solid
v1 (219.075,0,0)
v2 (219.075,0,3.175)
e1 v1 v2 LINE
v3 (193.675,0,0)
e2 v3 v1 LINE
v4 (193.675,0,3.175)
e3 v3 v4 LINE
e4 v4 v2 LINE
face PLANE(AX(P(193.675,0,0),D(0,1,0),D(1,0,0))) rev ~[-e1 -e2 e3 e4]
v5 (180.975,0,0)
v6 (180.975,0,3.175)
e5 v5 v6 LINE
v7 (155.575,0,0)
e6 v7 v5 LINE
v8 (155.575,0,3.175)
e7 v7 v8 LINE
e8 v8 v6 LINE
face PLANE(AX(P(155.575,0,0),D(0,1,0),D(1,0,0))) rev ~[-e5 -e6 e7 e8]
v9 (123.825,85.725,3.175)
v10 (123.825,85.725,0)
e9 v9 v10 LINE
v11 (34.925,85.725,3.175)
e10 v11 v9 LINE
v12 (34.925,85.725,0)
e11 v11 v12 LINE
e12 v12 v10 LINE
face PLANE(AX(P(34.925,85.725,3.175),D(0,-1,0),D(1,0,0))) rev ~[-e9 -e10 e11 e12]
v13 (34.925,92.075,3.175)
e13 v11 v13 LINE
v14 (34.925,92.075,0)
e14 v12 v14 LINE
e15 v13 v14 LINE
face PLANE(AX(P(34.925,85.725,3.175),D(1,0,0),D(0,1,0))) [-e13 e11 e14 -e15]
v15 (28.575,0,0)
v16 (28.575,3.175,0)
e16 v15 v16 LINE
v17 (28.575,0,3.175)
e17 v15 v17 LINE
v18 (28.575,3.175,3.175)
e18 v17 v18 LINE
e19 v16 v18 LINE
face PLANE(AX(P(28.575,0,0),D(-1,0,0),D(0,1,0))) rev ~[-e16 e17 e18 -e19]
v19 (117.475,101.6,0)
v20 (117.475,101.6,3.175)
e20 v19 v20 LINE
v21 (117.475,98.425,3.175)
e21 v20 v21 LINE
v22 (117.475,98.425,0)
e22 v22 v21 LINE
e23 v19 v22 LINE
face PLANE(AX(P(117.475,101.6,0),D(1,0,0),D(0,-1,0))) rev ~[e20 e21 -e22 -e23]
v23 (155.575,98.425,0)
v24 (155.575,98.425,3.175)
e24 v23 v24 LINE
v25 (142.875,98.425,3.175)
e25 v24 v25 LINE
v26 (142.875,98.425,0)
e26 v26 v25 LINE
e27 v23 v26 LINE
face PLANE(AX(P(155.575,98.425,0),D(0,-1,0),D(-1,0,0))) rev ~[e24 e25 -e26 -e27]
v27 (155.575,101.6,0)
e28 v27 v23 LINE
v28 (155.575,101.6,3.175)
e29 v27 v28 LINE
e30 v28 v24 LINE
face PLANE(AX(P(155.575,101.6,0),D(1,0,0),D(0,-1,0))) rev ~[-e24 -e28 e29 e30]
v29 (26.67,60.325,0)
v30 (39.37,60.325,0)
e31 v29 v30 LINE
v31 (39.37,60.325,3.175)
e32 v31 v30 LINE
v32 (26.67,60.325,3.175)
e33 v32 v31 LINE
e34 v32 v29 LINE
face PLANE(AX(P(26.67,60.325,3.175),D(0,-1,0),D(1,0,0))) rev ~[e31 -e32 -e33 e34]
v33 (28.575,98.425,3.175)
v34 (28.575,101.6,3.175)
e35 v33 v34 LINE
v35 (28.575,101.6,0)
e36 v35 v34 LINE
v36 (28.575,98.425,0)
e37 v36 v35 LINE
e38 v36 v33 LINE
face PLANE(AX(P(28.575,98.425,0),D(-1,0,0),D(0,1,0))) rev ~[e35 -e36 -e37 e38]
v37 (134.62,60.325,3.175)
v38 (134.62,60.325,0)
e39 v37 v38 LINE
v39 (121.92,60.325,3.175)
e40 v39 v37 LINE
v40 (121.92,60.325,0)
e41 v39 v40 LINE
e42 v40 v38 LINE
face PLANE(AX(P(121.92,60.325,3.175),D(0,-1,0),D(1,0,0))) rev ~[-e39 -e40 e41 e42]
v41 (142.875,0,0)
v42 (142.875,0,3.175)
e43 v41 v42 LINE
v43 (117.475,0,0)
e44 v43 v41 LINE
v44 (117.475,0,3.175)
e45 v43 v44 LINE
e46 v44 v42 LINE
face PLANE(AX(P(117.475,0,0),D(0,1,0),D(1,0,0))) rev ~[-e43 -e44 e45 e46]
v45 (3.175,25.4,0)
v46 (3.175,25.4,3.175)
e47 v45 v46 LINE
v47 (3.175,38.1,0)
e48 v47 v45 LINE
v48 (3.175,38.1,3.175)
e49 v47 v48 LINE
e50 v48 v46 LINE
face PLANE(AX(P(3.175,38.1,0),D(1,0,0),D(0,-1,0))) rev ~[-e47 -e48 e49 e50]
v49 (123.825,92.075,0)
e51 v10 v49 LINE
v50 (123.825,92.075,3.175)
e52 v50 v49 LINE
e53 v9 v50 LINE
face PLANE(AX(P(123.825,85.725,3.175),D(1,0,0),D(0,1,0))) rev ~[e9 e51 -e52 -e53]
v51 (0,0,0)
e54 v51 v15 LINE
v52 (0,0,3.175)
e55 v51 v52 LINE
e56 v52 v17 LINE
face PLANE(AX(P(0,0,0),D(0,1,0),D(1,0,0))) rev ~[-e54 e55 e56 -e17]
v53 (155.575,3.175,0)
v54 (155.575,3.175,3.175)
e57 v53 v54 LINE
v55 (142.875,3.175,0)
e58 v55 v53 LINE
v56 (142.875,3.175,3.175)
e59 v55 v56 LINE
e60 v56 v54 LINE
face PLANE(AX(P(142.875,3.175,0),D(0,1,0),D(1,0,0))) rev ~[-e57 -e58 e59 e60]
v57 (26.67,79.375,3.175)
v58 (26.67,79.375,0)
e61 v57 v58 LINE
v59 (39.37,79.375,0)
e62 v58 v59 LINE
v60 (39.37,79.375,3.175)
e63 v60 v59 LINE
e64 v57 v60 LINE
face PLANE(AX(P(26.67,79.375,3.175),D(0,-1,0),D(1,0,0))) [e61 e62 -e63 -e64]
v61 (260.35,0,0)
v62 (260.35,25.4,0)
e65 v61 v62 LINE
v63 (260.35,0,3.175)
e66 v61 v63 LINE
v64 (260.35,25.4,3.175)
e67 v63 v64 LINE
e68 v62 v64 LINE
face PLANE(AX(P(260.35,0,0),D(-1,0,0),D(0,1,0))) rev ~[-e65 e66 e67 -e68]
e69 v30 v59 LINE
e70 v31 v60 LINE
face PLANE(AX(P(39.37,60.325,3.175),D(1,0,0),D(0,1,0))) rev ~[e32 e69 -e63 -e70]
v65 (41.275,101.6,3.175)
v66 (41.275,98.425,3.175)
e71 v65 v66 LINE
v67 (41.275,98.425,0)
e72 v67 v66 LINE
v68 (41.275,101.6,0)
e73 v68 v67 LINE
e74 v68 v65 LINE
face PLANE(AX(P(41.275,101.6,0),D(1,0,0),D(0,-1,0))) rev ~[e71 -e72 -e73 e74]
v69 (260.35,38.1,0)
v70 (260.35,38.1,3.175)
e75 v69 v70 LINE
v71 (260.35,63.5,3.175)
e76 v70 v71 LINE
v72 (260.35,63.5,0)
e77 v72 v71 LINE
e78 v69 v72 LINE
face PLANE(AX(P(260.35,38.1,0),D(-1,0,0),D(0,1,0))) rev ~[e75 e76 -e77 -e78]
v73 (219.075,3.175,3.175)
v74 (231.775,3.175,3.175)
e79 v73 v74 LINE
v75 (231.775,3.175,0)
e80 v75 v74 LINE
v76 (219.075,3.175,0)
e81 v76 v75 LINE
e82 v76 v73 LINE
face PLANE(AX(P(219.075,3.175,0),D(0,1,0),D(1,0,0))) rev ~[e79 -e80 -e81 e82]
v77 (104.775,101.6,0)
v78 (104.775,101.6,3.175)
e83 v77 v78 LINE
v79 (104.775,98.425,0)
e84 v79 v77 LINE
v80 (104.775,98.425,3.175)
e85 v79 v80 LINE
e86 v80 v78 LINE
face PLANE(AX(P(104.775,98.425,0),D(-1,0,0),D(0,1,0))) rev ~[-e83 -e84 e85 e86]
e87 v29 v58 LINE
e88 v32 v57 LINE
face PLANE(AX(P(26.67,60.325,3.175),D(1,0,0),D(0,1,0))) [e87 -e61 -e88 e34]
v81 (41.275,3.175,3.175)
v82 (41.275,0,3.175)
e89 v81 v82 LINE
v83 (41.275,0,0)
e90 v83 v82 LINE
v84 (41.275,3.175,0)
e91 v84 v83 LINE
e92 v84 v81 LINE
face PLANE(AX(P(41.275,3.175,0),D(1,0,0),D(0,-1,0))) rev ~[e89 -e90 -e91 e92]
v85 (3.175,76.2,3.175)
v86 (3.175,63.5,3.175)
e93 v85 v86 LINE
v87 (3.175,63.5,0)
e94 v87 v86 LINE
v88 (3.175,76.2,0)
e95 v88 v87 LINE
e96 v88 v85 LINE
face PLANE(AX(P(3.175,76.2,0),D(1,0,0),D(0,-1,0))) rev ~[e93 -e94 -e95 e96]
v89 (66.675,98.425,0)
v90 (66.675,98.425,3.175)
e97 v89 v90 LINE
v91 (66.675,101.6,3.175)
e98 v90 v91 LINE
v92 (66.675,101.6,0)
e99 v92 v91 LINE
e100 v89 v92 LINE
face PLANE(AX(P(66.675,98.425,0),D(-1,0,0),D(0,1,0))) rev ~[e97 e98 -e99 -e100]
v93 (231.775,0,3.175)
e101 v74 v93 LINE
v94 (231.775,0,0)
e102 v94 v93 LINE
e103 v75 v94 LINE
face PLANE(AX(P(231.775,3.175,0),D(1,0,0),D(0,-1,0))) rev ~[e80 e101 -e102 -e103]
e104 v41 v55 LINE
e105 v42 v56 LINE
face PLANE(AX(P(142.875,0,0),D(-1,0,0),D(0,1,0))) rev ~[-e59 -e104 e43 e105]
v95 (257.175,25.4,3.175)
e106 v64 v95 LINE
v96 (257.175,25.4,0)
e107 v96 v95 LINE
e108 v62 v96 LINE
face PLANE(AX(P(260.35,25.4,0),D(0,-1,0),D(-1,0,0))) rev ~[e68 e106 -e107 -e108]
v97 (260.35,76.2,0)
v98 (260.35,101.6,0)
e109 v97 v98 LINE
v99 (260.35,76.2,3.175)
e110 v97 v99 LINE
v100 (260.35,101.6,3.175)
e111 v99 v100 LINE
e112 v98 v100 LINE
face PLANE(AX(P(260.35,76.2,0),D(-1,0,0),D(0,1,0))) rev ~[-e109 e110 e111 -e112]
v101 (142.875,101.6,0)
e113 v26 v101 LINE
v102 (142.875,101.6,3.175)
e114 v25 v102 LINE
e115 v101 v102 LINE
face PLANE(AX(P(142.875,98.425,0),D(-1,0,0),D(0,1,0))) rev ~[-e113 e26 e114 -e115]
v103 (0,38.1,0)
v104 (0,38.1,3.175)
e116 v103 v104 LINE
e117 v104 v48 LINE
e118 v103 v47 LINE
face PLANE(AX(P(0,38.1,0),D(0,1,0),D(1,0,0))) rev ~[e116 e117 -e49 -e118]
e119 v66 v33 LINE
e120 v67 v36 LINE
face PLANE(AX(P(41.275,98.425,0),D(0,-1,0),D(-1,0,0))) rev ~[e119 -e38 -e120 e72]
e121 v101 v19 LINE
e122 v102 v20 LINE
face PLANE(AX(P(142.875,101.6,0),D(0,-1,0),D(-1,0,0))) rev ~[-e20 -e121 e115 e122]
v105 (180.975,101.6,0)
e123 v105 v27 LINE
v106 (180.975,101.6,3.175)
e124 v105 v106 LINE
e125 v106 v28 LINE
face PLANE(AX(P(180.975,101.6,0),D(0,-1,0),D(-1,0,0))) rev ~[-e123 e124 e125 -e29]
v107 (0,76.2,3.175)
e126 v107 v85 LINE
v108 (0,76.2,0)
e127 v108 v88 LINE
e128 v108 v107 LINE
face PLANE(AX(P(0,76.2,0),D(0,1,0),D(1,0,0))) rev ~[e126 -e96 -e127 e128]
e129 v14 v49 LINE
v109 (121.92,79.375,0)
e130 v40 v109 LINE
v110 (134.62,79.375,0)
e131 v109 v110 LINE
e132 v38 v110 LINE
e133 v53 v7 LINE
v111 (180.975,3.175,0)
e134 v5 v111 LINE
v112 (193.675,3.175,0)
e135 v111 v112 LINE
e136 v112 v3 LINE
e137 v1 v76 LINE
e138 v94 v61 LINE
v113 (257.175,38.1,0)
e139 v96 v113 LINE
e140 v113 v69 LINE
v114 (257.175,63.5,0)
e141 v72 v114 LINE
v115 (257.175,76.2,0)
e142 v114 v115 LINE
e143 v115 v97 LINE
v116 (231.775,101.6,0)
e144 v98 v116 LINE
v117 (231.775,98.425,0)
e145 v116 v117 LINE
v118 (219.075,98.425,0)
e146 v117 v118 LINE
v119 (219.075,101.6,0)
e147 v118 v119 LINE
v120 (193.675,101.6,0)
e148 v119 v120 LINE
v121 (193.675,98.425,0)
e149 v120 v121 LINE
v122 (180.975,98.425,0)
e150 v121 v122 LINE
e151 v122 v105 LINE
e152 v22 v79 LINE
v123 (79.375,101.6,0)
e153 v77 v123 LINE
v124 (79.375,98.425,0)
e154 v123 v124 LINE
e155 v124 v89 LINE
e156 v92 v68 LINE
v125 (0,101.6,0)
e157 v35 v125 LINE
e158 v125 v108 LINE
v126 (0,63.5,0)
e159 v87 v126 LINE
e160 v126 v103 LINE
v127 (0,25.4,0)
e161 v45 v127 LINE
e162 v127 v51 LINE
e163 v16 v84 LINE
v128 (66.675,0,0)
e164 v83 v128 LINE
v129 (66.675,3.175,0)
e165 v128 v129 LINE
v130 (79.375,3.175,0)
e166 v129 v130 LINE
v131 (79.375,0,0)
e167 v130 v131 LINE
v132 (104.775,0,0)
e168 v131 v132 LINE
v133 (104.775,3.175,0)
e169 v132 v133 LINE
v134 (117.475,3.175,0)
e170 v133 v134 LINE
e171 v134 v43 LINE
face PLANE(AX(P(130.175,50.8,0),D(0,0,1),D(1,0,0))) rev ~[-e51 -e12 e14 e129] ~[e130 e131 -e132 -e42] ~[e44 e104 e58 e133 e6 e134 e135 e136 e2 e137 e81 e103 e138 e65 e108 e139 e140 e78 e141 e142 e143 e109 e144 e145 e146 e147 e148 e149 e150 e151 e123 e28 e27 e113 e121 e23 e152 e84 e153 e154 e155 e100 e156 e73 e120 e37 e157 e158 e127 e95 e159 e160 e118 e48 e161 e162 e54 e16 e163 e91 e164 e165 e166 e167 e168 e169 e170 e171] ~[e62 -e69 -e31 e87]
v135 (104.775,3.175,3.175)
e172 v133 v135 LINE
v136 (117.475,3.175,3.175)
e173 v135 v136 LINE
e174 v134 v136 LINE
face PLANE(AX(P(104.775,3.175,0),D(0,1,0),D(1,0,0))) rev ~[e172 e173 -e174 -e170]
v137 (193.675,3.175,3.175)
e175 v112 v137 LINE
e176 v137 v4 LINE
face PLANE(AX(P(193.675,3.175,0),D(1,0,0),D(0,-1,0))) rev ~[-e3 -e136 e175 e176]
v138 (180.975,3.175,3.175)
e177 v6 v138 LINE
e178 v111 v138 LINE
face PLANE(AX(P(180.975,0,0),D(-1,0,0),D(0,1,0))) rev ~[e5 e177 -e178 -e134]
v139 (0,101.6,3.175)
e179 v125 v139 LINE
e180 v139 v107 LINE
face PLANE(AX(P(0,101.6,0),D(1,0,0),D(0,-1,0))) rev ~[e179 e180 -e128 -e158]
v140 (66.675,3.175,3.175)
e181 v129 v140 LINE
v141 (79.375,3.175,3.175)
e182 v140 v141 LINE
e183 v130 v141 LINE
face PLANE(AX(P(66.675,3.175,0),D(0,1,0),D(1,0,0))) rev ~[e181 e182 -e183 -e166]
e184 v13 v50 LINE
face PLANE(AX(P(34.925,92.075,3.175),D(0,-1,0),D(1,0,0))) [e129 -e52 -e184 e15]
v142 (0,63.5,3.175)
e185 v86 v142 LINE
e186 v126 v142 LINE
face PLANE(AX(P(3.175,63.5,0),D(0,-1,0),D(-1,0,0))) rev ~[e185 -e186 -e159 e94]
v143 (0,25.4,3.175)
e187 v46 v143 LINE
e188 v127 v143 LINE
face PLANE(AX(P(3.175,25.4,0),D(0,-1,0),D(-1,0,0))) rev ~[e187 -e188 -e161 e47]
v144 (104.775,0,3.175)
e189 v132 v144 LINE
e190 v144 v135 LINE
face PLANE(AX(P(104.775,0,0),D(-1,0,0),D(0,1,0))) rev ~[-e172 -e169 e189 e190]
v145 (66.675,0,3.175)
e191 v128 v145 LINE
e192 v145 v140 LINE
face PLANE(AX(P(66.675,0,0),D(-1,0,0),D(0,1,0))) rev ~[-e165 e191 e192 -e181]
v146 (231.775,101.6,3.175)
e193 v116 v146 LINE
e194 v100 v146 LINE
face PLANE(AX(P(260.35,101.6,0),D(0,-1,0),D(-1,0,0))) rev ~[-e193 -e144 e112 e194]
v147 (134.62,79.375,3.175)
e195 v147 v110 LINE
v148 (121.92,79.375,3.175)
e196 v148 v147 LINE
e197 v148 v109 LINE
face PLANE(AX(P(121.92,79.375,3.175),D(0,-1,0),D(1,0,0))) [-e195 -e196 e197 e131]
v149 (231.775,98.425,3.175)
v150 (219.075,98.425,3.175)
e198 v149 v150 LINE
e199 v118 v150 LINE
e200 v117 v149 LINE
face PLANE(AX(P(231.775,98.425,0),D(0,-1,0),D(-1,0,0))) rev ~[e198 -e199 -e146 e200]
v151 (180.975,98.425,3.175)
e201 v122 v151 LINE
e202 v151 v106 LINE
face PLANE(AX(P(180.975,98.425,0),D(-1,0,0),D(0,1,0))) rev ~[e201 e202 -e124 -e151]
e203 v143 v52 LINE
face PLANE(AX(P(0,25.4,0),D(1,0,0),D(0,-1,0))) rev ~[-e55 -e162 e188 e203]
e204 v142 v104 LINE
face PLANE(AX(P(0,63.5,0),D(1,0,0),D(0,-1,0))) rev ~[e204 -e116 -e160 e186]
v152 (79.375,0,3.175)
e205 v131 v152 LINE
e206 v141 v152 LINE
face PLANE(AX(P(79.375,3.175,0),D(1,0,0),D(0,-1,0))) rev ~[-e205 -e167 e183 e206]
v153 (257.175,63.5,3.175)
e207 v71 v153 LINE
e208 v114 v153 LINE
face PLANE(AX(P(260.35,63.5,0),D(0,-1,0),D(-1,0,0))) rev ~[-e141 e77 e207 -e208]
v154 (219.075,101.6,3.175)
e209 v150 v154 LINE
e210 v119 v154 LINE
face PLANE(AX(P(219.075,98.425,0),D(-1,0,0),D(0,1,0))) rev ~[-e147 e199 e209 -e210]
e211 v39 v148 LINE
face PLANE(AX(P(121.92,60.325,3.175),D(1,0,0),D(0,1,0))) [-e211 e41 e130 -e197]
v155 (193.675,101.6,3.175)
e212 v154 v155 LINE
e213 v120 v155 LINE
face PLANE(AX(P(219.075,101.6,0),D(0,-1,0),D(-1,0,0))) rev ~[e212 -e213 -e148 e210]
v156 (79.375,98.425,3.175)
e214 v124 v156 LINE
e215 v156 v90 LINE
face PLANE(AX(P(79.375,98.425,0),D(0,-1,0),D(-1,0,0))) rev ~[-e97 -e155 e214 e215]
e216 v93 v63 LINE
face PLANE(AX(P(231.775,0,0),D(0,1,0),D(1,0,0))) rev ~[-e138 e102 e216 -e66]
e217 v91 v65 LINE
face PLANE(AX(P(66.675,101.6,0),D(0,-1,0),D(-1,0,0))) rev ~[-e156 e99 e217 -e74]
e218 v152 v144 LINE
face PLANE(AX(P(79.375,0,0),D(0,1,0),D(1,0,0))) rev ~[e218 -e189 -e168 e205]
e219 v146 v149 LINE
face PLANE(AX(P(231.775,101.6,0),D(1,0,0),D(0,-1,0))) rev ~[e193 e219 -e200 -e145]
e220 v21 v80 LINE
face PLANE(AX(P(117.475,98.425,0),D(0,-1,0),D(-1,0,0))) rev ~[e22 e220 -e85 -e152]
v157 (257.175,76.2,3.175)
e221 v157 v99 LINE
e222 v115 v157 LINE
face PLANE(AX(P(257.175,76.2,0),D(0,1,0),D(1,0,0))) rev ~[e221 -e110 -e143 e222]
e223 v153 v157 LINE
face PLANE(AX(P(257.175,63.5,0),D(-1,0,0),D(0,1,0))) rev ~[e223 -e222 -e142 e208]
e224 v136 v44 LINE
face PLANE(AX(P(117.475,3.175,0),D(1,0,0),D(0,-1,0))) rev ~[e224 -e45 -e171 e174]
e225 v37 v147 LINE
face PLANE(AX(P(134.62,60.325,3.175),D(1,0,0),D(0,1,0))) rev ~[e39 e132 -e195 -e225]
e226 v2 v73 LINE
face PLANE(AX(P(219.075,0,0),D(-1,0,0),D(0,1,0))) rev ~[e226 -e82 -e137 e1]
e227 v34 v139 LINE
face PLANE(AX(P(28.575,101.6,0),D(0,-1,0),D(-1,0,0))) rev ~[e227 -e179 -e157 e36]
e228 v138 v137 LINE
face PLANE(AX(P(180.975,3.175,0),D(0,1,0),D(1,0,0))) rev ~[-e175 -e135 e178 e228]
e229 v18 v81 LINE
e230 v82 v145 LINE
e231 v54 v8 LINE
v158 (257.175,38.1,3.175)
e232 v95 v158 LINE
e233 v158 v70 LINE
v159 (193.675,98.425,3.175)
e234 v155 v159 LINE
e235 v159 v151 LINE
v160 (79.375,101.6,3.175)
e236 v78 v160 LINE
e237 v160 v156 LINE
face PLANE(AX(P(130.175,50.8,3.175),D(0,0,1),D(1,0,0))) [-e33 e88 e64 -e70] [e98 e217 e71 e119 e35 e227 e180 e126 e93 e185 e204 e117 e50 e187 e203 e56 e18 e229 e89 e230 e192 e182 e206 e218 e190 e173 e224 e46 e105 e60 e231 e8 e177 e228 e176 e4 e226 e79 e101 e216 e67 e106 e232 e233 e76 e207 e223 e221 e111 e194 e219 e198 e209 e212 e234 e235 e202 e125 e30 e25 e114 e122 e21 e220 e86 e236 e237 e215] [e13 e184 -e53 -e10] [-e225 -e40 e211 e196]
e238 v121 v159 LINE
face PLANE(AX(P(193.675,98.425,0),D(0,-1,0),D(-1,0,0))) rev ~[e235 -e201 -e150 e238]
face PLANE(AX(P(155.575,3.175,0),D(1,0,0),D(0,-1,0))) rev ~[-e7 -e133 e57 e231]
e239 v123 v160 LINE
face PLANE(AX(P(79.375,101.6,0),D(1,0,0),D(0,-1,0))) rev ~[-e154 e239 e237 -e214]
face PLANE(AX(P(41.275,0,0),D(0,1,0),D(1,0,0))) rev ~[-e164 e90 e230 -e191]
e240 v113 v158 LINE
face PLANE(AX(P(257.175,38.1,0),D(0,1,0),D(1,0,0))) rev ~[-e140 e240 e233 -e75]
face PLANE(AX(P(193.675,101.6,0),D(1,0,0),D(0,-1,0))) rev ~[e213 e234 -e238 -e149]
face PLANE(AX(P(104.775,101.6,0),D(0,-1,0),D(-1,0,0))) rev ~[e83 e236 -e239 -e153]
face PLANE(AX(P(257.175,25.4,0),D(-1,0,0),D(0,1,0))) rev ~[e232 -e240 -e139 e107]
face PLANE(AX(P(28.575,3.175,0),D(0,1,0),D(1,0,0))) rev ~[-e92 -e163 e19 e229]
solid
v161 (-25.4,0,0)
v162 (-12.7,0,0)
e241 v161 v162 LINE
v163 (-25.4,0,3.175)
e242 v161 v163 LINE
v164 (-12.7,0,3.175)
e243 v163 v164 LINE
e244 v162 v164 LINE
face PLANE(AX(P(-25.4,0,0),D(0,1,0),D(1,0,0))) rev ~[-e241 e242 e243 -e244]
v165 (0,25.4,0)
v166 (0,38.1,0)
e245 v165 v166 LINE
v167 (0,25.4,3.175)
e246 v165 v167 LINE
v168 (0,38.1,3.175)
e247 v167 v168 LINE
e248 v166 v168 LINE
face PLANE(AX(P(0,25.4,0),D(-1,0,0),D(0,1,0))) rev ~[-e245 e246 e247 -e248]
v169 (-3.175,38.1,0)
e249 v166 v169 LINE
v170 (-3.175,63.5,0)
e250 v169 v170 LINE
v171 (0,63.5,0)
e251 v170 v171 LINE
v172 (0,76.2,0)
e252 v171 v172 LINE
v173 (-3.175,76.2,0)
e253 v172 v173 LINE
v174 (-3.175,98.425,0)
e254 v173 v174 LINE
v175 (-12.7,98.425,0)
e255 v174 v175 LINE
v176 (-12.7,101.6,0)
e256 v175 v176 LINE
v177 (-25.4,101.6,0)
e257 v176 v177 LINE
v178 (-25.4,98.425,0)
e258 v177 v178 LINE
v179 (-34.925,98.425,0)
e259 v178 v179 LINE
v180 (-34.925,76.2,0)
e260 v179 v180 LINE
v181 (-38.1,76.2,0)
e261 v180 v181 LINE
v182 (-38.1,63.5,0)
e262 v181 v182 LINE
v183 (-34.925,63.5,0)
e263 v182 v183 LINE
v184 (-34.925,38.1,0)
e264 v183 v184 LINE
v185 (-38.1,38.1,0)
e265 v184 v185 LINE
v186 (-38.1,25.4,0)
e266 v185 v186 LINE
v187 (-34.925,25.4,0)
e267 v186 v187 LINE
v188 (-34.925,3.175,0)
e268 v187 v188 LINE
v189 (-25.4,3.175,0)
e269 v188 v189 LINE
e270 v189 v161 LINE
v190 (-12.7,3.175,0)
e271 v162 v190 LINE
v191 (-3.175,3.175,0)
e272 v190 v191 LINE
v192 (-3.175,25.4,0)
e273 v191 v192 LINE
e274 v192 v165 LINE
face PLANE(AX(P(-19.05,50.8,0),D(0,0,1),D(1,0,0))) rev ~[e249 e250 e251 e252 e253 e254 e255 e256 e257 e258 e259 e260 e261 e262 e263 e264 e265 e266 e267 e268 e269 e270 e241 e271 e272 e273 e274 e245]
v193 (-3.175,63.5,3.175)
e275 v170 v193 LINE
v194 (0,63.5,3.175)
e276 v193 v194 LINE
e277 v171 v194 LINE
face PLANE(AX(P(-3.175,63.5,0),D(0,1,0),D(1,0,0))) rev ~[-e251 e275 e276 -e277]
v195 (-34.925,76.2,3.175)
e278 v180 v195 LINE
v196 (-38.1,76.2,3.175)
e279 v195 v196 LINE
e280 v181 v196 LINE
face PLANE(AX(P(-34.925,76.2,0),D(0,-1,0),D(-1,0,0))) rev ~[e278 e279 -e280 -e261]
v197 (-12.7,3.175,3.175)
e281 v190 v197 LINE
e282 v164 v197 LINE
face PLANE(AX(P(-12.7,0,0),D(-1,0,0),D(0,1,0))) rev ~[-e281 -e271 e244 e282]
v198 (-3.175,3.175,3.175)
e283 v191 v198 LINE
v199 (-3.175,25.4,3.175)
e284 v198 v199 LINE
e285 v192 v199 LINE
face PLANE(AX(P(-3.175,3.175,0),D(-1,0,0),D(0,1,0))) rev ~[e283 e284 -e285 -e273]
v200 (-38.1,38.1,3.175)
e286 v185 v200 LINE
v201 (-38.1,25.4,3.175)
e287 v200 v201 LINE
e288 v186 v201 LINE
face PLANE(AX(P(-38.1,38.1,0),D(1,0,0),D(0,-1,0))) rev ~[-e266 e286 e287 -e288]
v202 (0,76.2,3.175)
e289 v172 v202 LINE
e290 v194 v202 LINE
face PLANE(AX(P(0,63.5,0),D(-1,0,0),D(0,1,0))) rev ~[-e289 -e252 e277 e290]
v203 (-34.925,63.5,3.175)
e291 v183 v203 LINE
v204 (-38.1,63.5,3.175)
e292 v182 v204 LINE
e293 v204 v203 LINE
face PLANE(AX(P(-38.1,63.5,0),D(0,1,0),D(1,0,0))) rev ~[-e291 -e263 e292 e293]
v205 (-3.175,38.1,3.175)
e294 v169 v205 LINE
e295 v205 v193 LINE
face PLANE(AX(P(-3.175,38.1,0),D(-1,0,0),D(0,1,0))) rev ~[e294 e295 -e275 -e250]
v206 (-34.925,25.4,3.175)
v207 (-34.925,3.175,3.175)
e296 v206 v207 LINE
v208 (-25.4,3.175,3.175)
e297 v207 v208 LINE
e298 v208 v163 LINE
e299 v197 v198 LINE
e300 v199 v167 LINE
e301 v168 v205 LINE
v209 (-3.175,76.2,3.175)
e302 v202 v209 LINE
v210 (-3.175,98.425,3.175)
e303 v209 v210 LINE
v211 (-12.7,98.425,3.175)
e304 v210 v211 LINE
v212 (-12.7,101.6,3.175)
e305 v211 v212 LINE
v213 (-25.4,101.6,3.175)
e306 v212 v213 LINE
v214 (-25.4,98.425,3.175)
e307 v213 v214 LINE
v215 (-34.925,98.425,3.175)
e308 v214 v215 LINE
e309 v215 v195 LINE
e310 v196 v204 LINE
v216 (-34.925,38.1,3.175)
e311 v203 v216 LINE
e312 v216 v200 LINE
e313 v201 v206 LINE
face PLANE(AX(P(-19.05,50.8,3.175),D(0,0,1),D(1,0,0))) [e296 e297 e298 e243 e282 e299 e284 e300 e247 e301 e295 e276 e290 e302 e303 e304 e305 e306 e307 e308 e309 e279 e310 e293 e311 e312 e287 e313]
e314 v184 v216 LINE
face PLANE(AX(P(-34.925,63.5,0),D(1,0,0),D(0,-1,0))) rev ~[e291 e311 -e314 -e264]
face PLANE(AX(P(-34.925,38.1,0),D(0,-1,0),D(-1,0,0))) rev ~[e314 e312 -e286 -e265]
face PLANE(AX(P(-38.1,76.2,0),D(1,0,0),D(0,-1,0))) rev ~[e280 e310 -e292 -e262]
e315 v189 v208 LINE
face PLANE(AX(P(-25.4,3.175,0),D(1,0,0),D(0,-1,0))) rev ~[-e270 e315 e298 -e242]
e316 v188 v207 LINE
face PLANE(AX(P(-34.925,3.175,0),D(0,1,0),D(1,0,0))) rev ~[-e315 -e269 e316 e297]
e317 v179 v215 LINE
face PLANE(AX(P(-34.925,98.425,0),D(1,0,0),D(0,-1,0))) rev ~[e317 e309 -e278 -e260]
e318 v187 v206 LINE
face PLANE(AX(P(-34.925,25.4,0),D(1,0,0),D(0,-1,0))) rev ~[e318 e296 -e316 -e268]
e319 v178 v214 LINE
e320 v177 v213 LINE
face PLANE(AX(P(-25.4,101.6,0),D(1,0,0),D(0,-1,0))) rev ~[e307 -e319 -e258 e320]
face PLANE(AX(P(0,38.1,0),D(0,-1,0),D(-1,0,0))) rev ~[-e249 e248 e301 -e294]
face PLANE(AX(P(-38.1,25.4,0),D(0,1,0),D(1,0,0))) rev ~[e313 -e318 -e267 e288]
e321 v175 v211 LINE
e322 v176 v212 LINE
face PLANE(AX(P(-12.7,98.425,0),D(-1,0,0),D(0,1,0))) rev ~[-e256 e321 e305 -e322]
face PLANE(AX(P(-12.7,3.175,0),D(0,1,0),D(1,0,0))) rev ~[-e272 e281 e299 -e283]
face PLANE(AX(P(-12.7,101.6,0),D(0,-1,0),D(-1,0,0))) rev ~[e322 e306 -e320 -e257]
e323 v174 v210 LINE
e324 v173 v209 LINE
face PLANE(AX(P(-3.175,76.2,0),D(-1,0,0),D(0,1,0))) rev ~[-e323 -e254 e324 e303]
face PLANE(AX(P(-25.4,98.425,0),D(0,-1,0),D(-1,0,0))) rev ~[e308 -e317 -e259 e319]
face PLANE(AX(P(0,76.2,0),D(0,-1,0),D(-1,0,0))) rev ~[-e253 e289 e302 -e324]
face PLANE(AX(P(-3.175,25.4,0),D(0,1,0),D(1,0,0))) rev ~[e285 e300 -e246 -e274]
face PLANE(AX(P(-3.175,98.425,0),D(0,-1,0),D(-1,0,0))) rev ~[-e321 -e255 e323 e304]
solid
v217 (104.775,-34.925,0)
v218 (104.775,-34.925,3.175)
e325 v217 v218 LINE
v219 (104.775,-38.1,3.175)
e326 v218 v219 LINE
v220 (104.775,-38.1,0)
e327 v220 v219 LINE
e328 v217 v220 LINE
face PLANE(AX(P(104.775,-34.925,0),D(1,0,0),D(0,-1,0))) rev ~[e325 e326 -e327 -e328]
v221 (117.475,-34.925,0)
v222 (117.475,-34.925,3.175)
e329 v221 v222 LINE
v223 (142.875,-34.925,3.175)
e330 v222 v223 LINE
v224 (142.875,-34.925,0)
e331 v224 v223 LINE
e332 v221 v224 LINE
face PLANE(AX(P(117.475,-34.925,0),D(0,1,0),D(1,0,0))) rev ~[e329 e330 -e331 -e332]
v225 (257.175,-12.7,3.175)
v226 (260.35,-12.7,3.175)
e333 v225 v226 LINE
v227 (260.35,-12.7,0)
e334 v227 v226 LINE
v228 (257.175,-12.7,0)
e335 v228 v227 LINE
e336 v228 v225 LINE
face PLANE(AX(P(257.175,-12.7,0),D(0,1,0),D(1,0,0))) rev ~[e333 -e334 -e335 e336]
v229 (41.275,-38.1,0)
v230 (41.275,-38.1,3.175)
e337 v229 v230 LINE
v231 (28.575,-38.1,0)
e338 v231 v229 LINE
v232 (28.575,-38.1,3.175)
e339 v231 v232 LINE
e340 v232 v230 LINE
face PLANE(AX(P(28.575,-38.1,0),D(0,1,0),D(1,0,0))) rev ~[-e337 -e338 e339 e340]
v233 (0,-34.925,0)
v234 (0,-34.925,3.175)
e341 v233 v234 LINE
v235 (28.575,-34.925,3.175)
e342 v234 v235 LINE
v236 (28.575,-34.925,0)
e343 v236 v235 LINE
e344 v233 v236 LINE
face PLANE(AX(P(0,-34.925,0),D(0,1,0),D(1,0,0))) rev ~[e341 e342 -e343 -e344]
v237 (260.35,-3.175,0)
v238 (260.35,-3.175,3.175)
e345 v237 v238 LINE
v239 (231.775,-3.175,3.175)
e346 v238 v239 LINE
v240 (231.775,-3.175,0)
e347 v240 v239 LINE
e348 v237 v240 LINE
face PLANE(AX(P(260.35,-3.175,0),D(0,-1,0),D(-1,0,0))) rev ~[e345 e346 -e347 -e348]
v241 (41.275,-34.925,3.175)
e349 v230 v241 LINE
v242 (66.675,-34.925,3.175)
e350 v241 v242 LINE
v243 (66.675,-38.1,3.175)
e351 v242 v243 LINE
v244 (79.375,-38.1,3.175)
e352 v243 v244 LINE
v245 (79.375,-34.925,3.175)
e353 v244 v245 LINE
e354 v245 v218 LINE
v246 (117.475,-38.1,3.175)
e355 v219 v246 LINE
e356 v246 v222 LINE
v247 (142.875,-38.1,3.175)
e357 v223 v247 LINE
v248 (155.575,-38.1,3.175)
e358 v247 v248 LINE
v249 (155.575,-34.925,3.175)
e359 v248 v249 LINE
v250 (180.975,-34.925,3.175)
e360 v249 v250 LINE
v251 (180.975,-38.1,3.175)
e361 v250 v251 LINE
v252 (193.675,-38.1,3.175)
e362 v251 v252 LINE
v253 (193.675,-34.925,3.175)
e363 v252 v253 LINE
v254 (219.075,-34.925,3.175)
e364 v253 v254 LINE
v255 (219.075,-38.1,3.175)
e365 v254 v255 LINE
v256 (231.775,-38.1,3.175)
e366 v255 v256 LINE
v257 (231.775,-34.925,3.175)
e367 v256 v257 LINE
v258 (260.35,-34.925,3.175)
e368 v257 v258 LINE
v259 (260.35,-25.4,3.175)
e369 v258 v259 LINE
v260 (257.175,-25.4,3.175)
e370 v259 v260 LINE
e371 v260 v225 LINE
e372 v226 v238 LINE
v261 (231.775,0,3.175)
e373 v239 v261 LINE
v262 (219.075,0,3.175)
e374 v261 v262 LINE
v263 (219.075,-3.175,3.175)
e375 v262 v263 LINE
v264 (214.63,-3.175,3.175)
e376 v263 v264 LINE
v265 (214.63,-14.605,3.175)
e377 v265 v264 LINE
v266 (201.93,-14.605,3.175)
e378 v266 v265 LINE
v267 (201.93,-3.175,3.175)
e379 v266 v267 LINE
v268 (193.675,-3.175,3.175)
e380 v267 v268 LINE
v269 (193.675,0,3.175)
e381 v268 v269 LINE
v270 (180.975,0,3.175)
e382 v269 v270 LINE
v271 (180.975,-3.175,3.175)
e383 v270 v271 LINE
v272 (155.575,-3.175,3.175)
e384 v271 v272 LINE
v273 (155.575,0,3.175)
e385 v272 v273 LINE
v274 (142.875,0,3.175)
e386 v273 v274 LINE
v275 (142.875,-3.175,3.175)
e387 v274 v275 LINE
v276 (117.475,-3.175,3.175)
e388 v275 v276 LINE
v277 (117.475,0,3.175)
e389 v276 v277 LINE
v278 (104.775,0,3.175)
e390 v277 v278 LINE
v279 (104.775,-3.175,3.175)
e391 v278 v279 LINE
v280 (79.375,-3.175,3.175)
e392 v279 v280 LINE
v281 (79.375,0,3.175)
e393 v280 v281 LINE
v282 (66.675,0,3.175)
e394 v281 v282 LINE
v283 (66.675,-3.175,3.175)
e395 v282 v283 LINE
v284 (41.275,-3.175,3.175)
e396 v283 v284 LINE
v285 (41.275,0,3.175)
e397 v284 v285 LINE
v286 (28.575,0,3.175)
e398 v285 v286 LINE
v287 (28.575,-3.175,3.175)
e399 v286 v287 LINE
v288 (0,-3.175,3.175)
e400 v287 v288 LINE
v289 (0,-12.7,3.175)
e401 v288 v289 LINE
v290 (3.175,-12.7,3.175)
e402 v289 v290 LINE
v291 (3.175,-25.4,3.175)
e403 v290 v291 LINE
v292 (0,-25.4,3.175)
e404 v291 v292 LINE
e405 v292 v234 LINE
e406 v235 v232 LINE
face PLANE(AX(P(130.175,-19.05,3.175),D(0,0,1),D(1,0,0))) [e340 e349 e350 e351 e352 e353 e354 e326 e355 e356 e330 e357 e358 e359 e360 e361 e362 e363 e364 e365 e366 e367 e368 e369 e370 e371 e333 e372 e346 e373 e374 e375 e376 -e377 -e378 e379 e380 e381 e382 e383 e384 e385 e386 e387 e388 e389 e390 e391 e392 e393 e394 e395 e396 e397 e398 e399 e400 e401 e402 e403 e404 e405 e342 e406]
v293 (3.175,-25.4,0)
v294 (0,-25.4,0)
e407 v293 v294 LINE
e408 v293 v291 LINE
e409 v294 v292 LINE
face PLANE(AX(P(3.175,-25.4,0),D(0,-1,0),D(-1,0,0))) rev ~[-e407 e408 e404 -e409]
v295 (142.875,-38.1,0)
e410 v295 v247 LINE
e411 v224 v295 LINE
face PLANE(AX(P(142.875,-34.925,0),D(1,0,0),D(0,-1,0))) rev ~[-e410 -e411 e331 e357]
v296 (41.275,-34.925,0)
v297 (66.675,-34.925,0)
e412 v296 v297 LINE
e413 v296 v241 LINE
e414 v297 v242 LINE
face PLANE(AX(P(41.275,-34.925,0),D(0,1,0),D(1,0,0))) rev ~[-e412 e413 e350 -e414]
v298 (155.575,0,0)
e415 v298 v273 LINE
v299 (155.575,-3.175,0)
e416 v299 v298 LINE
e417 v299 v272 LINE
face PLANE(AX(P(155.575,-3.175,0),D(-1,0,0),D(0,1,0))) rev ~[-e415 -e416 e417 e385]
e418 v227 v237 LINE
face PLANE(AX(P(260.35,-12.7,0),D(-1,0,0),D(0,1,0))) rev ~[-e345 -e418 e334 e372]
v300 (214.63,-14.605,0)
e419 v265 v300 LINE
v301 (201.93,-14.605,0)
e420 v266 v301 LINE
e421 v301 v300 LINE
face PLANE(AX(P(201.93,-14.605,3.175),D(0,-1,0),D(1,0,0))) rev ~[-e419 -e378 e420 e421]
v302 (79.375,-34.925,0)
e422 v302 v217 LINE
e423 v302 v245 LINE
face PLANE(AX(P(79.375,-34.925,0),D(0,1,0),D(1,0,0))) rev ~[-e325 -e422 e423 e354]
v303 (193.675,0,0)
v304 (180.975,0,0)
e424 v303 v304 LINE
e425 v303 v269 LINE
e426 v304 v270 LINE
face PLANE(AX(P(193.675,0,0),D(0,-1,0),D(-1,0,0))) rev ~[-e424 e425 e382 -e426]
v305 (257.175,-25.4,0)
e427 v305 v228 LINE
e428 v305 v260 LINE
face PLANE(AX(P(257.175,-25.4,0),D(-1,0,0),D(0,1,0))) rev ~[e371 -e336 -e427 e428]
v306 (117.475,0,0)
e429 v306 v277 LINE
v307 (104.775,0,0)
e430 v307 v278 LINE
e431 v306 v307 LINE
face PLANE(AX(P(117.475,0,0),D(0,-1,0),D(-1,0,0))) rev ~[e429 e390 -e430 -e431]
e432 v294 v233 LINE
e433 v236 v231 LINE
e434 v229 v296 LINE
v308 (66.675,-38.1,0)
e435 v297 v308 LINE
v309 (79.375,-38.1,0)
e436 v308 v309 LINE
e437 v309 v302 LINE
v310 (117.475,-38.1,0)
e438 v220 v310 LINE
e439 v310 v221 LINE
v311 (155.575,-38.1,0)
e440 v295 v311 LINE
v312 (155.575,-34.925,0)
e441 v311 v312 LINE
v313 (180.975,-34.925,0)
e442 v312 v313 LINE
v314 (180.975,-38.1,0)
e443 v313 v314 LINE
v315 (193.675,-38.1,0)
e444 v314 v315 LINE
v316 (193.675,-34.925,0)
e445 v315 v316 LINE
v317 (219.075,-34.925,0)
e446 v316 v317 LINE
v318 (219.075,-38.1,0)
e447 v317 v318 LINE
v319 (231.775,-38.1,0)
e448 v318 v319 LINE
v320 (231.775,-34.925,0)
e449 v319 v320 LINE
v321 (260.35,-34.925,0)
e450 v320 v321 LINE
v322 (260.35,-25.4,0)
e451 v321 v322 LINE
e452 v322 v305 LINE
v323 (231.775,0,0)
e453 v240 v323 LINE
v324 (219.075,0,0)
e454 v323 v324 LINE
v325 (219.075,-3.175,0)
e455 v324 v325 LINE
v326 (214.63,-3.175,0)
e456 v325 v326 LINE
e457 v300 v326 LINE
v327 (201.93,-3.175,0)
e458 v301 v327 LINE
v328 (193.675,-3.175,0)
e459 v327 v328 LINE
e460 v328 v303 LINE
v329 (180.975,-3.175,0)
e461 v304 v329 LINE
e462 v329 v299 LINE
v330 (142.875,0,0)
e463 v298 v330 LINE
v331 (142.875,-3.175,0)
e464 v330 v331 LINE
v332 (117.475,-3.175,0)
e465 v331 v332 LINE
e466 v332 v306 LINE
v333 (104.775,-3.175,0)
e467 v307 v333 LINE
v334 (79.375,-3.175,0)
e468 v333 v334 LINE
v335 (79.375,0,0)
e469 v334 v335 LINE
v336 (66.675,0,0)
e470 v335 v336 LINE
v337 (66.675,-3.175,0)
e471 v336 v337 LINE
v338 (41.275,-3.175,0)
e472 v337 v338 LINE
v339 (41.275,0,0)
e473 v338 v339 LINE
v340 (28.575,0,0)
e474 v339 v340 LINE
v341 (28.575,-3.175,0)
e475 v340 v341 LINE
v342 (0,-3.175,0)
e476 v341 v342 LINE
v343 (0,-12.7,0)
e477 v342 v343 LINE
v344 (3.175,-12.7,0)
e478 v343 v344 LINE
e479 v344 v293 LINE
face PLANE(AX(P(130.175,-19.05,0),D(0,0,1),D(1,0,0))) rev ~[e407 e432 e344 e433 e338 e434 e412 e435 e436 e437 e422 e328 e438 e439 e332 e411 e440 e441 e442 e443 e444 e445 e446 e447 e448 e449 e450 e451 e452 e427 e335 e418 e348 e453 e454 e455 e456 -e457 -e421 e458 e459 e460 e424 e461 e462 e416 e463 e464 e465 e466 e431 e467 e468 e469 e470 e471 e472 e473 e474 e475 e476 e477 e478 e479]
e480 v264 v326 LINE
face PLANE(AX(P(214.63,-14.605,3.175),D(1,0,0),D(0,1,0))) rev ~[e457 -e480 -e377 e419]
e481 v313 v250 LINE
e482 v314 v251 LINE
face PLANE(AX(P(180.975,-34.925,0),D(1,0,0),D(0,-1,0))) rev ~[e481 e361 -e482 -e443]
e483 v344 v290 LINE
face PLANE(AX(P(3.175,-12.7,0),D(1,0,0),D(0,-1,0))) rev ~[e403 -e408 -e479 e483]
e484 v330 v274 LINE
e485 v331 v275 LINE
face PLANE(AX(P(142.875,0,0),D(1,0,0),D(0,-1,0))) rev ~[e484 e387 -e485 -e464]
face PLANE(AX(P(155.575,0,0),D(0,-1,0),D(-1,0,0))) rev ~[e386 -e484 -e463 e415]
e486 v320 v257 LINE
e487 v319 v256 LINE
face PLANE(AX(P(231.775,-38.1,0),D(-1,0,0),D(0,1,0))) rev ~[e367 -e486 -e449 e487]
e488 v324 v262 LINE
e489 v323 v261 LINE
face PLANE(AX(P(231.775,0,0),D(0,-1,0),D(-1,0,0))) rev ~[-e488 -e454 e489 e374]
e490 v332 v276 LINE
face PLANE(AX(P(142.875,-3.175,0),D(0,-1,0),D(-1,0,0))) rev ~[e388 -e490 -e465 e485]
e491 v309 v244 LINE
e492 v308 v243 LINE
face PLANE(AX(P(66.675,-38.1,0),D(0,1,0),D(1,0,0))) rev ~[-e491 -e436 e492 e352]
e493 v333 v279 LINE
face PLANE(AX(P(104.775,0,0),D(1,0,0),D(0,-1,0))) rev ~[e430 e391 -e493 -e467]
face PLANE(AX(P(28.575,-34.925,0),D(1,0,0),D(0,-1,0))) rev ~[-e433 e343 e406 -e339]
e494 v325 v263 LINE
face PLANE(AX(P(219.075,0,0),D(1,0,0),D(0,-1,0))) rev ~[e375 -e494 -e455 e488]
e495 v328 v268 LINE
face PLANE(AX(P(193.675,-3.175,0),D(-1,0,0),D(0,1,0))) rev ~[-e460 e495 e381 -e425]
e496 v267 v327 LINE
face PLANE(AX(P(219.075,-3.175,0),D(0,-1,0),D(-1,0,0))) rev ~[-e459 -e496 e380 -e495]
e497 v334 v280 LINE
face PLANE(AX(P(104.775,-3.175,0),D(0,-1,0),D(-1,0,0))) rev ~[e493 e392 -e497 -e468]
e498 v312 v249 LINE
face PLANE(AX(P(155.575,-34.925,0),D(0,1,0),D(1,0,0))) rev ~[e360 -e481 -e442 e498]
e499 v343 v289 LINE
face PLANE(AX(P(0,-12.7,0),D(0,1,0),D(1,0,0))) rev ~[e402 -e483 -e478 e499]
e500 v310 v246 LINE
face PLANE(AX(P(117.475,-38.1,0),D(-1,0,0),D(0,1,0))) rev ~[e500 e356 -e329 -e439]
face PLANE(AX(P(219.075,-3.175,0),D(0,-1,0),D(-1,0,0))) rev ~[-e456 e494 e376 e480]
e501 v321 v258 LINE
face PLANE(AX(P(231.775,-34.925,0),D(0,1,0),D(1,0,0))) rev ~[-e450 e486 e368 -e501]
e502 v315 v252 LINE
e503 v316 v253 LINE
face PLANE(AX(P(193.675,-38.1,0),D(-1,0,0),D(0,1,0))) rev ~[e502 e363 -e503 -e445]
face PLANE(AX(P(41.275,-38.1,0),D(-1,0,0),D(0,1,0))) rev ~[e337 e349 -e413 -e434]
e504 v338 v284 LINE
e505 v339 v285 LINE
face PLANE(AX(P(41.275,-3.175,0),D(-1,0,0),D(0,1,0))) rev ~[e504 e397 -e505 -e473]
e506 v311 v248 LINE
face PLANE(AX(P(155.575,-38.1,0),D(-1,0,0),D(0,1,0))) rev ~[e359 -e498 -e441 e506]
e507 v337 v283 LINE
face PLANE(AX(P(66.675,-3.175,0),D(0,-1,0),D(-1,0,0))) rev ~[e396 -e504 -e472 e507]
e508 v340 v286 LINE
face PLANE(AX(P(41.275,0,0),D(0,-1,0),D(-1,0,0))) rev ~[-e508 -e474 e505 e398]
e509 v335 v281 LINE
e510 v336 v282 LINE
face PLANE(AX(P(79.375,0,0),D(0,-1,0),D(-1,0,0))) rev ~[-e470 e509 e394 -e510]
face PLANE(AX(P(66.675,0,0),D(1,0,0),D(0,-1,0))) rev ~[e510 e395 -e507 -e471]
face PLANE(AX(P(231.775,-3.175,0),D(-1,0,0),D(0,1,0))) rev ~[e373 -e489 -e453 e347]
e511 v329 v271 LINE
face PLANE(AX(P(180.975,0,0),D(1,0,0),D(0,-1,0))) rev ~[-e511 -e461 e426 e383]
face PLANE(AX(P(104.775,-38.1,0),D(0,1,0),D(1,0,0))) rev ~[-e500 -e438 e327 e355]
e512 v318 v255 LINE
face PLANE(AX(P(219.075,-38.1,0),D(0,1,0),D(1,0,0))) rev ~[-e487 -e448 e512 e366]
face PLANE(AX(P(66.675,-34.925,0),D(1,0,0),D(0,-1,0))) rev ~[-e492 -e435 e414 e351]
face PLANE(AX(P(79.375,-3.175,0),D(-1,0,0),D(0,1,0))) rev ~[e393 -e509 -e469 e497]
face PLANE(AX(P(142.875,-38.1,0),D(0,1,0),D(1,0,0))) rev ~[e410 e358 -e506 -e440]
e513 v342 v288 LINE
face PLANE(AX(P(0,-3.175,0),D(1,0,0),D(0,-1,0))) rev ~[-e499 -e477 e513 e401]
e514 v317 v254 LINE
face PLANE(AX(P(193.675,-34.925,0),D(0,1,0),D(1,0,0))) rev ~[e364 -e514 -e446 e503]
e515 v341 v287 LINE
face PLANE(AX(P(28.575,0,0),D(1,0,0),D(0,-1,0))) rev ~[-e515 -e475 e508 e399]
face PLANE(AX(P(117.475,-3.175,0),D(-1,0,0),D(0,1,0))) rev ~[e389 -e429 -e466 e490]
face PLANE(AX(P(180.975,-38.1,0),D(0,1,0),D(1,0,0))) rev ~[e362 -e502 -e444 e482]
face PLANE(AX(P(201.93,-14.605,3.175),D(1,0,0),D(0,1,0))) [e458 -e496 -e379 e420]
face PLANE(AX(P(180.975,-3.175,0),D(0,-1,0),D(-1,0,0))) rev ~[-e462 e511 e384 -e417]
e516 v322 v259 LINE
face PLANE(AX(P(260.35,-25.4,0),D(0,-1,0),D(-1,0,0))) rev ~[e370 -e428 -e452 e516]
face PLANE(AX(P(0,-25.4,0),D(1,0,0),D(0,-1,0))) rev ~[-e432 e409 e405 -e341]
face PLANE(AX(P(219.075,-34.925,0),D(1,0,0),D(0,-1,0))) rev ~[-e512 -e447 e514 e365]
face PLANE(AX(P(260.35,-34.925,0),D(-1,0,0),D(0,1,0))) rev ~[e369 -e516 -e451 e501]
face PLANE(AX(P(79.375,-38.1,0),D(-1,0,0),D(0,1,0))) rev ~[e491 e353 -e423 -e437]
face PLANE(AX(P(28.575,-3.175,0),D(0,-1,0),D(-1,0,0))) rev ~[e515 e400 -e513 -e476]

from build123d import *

# Parameters (mm, degrees)
F1_DEPTH = 3.175
F3_DEPTH = 3.175
F5_DEPTH = 3.175
F6_W     = 12.7
F6_H     = 19.05
F6_W_2   = 88.9
F6_H_2   = 6.35
F6_H_3   = 11.43
F7_DEPTH = 3.176


with BuildPart() as f1:
    # F0 (on Top) → F1 (new body)
    with BuildSketch(Plane.XY):
        Polygon((0, 25.4), (0, 0), (28.575, 0), (28.575, 3.175), (41.275, 3.175), (41.275, 0), (66.675, 0), (66.675, 3.175), (79.375, 3.175), (79.375, 0), (104.775, 0), (104.775, 3.175), (117.475, 3.175), (117.475, 0), (142.875, 0), (142.875, 3.175), (155.575, 3.175), (155.575, 0), (180.975, 0), (180.975, 3.175), (193.675, 3.175), (193.675, 0), (219.075, 0), (219.075, 3.175), (231.775, 3.175), (231.775, 0), (260.35, 0), (260.35, 25.4), (257.175, 25.4), (257.175, 38.1), (260.35, 38.1), (260.35, 63.5), (257.175, 63.5), (257.175, 76.2), (260.35, 76.2), (260.35, 101.6), (231.775, 101.6), (231.775, 98.425), (219.075, 98.425), (219.075, 101.6), (193.675, 101.6), (193.675, 98.425), (180.975, 98.425), (180.975, 101.6), (155.575, 101.6), (155.575, 98.425), (142.875, 98.425), (142.875, 101.6), (117.475, 101.6), (117.475, 98.425), (104.775, 98.425), (104.775, 101.6), (79.375, 101.6), (79.375, 98.425), (66.675, 98.425), (66.675, 101.6), (41.275, 101.6), (41.275, 98.425), (28.575, 98.425), (28.575, 101.6), (0, 101.6), (0, 76.2), (3.175, 76.2), (3.175, 63.5), (0, 63.5), (0, 38.1), (3.175, 38.1), (3.175, 25.4), align=None)
    extrude(amount=F1_DEPTH)


with BuildPart() as f3:
    # F2 (on Top) → F3 (new body)
    with BuildSketch(Plane.XY):
        Polygon((41.275, 0), (28.575, 0), (28.575, -3.175), (0, -3.175), (0, -12.7), (3.175, -12.7), (3.175, -25.4), (0, -25.4), (0, -34.925), (28.575, -34.925), (28.575, -38.1), (41.275, -38.1), (41.275, -34.925), (66.675, -34.925), (66.675, -38.1), (79.375, -38.1), (79.375, -34.925), (104.775, -34.925), (104.775, -38.1), (117.475, -38.1), (117.475, -34.925), (142.875, -34.925), (142.875, -38.1), (155.575, -38.1), (155.575, -34.925), (180.975, -34.925), (180.975, -38.1), (193.675, -38.1), (193.675, -34.925), (219.075, -34.925), (219.075, -38.1), (231.775, -38.1), (231.775, -34.925), (260.35, -34.925), (260.35, -25.4), (257.175, -25.4), (257.175, -12.7), (260.35, -12.7), (260.35, -3.175), (231.775, -3.175), (231.775, 0), (219.075, 0), (219.075, -3.175), (193.675, -3.175), (193.675, 0), (180.975, 0), (180.975, -3.175), (155.575, -3.175), (155.575, 0), (142.875, 0), (142.875, -3.175), (117.475, -3.175), (117.475, 0), (104.775, 0), (104.775, -3.175), (79.375, -3.175), (79.375, 0), (66.675, 0), (66.675, -3.175), (41.275, -3.175), align=None)
    extrude(amount=F3_DEPTH)


with BuildPart() as f5:
    # F4 (on Top) → F5 (new body)
    with BuildSketch(Plane.XY):
        Polygon((-3.175, 25.4), (0, 25.4), (0, 38.1), (-3.175, 38.1), (-3.175, 63.5), (0, 63.5), (0, 76.2), (-3.175, 76.2), (-3.175, 98.425), (-12.7, 98.425), (-12.7, 101.6), (-25.4, 101.6), (-25.4, 98.425), (-34.925, 98.425), (-34.925, 76.2), (-38.1, 76.2), (-38.1, 63.5), (-34.925, 63.5), (-34.925, 38.1), (-38.1, 38.1), (-38.1, 25.4), (-34.925, 25.4), (-34.925, 3.175), (-25.4, 3.175), (-25.4, 0), (-12.7, 0), (-12.7, 3.175), (-3.175, 3.175), align=None)
    extrude(amount=F5_DEPTH)


with BuildPart() as f7_tool:
    # F6 (on face) → F7 (new body, through all)
    with BuildSketch(Plane.XY.offset(3.175)):
        with Locations((33.02, 69.85)):
            Rectangle(F6_W, F6_H)
        with Locations((79.375, 88.9)):
            Rectangle(F6_W_2, F6_H_2)
        with Locations((128.27, 69.85)):
            Rectangle(F6_W, F6_H)
        with Locations((208.28, -8.89)):
            Rectangle(F6_W, F6_H_3)
    extrude(amount=-F7_DEPTH)


with BuildPart() as f1_1:
    add(f1.part)

    # F7: cut by f7_tool
    add(f7_tool.part, mode=Mode.SUBTRACT)


with BuildPart() as f3_1:
    add(f3.part)

    # F7: cut by f7_tool
    add(f7_tool.part, mode=Mode.SUBTRACT)


solid = Compound([f5.part, f1_1.part, f3_1.part])
